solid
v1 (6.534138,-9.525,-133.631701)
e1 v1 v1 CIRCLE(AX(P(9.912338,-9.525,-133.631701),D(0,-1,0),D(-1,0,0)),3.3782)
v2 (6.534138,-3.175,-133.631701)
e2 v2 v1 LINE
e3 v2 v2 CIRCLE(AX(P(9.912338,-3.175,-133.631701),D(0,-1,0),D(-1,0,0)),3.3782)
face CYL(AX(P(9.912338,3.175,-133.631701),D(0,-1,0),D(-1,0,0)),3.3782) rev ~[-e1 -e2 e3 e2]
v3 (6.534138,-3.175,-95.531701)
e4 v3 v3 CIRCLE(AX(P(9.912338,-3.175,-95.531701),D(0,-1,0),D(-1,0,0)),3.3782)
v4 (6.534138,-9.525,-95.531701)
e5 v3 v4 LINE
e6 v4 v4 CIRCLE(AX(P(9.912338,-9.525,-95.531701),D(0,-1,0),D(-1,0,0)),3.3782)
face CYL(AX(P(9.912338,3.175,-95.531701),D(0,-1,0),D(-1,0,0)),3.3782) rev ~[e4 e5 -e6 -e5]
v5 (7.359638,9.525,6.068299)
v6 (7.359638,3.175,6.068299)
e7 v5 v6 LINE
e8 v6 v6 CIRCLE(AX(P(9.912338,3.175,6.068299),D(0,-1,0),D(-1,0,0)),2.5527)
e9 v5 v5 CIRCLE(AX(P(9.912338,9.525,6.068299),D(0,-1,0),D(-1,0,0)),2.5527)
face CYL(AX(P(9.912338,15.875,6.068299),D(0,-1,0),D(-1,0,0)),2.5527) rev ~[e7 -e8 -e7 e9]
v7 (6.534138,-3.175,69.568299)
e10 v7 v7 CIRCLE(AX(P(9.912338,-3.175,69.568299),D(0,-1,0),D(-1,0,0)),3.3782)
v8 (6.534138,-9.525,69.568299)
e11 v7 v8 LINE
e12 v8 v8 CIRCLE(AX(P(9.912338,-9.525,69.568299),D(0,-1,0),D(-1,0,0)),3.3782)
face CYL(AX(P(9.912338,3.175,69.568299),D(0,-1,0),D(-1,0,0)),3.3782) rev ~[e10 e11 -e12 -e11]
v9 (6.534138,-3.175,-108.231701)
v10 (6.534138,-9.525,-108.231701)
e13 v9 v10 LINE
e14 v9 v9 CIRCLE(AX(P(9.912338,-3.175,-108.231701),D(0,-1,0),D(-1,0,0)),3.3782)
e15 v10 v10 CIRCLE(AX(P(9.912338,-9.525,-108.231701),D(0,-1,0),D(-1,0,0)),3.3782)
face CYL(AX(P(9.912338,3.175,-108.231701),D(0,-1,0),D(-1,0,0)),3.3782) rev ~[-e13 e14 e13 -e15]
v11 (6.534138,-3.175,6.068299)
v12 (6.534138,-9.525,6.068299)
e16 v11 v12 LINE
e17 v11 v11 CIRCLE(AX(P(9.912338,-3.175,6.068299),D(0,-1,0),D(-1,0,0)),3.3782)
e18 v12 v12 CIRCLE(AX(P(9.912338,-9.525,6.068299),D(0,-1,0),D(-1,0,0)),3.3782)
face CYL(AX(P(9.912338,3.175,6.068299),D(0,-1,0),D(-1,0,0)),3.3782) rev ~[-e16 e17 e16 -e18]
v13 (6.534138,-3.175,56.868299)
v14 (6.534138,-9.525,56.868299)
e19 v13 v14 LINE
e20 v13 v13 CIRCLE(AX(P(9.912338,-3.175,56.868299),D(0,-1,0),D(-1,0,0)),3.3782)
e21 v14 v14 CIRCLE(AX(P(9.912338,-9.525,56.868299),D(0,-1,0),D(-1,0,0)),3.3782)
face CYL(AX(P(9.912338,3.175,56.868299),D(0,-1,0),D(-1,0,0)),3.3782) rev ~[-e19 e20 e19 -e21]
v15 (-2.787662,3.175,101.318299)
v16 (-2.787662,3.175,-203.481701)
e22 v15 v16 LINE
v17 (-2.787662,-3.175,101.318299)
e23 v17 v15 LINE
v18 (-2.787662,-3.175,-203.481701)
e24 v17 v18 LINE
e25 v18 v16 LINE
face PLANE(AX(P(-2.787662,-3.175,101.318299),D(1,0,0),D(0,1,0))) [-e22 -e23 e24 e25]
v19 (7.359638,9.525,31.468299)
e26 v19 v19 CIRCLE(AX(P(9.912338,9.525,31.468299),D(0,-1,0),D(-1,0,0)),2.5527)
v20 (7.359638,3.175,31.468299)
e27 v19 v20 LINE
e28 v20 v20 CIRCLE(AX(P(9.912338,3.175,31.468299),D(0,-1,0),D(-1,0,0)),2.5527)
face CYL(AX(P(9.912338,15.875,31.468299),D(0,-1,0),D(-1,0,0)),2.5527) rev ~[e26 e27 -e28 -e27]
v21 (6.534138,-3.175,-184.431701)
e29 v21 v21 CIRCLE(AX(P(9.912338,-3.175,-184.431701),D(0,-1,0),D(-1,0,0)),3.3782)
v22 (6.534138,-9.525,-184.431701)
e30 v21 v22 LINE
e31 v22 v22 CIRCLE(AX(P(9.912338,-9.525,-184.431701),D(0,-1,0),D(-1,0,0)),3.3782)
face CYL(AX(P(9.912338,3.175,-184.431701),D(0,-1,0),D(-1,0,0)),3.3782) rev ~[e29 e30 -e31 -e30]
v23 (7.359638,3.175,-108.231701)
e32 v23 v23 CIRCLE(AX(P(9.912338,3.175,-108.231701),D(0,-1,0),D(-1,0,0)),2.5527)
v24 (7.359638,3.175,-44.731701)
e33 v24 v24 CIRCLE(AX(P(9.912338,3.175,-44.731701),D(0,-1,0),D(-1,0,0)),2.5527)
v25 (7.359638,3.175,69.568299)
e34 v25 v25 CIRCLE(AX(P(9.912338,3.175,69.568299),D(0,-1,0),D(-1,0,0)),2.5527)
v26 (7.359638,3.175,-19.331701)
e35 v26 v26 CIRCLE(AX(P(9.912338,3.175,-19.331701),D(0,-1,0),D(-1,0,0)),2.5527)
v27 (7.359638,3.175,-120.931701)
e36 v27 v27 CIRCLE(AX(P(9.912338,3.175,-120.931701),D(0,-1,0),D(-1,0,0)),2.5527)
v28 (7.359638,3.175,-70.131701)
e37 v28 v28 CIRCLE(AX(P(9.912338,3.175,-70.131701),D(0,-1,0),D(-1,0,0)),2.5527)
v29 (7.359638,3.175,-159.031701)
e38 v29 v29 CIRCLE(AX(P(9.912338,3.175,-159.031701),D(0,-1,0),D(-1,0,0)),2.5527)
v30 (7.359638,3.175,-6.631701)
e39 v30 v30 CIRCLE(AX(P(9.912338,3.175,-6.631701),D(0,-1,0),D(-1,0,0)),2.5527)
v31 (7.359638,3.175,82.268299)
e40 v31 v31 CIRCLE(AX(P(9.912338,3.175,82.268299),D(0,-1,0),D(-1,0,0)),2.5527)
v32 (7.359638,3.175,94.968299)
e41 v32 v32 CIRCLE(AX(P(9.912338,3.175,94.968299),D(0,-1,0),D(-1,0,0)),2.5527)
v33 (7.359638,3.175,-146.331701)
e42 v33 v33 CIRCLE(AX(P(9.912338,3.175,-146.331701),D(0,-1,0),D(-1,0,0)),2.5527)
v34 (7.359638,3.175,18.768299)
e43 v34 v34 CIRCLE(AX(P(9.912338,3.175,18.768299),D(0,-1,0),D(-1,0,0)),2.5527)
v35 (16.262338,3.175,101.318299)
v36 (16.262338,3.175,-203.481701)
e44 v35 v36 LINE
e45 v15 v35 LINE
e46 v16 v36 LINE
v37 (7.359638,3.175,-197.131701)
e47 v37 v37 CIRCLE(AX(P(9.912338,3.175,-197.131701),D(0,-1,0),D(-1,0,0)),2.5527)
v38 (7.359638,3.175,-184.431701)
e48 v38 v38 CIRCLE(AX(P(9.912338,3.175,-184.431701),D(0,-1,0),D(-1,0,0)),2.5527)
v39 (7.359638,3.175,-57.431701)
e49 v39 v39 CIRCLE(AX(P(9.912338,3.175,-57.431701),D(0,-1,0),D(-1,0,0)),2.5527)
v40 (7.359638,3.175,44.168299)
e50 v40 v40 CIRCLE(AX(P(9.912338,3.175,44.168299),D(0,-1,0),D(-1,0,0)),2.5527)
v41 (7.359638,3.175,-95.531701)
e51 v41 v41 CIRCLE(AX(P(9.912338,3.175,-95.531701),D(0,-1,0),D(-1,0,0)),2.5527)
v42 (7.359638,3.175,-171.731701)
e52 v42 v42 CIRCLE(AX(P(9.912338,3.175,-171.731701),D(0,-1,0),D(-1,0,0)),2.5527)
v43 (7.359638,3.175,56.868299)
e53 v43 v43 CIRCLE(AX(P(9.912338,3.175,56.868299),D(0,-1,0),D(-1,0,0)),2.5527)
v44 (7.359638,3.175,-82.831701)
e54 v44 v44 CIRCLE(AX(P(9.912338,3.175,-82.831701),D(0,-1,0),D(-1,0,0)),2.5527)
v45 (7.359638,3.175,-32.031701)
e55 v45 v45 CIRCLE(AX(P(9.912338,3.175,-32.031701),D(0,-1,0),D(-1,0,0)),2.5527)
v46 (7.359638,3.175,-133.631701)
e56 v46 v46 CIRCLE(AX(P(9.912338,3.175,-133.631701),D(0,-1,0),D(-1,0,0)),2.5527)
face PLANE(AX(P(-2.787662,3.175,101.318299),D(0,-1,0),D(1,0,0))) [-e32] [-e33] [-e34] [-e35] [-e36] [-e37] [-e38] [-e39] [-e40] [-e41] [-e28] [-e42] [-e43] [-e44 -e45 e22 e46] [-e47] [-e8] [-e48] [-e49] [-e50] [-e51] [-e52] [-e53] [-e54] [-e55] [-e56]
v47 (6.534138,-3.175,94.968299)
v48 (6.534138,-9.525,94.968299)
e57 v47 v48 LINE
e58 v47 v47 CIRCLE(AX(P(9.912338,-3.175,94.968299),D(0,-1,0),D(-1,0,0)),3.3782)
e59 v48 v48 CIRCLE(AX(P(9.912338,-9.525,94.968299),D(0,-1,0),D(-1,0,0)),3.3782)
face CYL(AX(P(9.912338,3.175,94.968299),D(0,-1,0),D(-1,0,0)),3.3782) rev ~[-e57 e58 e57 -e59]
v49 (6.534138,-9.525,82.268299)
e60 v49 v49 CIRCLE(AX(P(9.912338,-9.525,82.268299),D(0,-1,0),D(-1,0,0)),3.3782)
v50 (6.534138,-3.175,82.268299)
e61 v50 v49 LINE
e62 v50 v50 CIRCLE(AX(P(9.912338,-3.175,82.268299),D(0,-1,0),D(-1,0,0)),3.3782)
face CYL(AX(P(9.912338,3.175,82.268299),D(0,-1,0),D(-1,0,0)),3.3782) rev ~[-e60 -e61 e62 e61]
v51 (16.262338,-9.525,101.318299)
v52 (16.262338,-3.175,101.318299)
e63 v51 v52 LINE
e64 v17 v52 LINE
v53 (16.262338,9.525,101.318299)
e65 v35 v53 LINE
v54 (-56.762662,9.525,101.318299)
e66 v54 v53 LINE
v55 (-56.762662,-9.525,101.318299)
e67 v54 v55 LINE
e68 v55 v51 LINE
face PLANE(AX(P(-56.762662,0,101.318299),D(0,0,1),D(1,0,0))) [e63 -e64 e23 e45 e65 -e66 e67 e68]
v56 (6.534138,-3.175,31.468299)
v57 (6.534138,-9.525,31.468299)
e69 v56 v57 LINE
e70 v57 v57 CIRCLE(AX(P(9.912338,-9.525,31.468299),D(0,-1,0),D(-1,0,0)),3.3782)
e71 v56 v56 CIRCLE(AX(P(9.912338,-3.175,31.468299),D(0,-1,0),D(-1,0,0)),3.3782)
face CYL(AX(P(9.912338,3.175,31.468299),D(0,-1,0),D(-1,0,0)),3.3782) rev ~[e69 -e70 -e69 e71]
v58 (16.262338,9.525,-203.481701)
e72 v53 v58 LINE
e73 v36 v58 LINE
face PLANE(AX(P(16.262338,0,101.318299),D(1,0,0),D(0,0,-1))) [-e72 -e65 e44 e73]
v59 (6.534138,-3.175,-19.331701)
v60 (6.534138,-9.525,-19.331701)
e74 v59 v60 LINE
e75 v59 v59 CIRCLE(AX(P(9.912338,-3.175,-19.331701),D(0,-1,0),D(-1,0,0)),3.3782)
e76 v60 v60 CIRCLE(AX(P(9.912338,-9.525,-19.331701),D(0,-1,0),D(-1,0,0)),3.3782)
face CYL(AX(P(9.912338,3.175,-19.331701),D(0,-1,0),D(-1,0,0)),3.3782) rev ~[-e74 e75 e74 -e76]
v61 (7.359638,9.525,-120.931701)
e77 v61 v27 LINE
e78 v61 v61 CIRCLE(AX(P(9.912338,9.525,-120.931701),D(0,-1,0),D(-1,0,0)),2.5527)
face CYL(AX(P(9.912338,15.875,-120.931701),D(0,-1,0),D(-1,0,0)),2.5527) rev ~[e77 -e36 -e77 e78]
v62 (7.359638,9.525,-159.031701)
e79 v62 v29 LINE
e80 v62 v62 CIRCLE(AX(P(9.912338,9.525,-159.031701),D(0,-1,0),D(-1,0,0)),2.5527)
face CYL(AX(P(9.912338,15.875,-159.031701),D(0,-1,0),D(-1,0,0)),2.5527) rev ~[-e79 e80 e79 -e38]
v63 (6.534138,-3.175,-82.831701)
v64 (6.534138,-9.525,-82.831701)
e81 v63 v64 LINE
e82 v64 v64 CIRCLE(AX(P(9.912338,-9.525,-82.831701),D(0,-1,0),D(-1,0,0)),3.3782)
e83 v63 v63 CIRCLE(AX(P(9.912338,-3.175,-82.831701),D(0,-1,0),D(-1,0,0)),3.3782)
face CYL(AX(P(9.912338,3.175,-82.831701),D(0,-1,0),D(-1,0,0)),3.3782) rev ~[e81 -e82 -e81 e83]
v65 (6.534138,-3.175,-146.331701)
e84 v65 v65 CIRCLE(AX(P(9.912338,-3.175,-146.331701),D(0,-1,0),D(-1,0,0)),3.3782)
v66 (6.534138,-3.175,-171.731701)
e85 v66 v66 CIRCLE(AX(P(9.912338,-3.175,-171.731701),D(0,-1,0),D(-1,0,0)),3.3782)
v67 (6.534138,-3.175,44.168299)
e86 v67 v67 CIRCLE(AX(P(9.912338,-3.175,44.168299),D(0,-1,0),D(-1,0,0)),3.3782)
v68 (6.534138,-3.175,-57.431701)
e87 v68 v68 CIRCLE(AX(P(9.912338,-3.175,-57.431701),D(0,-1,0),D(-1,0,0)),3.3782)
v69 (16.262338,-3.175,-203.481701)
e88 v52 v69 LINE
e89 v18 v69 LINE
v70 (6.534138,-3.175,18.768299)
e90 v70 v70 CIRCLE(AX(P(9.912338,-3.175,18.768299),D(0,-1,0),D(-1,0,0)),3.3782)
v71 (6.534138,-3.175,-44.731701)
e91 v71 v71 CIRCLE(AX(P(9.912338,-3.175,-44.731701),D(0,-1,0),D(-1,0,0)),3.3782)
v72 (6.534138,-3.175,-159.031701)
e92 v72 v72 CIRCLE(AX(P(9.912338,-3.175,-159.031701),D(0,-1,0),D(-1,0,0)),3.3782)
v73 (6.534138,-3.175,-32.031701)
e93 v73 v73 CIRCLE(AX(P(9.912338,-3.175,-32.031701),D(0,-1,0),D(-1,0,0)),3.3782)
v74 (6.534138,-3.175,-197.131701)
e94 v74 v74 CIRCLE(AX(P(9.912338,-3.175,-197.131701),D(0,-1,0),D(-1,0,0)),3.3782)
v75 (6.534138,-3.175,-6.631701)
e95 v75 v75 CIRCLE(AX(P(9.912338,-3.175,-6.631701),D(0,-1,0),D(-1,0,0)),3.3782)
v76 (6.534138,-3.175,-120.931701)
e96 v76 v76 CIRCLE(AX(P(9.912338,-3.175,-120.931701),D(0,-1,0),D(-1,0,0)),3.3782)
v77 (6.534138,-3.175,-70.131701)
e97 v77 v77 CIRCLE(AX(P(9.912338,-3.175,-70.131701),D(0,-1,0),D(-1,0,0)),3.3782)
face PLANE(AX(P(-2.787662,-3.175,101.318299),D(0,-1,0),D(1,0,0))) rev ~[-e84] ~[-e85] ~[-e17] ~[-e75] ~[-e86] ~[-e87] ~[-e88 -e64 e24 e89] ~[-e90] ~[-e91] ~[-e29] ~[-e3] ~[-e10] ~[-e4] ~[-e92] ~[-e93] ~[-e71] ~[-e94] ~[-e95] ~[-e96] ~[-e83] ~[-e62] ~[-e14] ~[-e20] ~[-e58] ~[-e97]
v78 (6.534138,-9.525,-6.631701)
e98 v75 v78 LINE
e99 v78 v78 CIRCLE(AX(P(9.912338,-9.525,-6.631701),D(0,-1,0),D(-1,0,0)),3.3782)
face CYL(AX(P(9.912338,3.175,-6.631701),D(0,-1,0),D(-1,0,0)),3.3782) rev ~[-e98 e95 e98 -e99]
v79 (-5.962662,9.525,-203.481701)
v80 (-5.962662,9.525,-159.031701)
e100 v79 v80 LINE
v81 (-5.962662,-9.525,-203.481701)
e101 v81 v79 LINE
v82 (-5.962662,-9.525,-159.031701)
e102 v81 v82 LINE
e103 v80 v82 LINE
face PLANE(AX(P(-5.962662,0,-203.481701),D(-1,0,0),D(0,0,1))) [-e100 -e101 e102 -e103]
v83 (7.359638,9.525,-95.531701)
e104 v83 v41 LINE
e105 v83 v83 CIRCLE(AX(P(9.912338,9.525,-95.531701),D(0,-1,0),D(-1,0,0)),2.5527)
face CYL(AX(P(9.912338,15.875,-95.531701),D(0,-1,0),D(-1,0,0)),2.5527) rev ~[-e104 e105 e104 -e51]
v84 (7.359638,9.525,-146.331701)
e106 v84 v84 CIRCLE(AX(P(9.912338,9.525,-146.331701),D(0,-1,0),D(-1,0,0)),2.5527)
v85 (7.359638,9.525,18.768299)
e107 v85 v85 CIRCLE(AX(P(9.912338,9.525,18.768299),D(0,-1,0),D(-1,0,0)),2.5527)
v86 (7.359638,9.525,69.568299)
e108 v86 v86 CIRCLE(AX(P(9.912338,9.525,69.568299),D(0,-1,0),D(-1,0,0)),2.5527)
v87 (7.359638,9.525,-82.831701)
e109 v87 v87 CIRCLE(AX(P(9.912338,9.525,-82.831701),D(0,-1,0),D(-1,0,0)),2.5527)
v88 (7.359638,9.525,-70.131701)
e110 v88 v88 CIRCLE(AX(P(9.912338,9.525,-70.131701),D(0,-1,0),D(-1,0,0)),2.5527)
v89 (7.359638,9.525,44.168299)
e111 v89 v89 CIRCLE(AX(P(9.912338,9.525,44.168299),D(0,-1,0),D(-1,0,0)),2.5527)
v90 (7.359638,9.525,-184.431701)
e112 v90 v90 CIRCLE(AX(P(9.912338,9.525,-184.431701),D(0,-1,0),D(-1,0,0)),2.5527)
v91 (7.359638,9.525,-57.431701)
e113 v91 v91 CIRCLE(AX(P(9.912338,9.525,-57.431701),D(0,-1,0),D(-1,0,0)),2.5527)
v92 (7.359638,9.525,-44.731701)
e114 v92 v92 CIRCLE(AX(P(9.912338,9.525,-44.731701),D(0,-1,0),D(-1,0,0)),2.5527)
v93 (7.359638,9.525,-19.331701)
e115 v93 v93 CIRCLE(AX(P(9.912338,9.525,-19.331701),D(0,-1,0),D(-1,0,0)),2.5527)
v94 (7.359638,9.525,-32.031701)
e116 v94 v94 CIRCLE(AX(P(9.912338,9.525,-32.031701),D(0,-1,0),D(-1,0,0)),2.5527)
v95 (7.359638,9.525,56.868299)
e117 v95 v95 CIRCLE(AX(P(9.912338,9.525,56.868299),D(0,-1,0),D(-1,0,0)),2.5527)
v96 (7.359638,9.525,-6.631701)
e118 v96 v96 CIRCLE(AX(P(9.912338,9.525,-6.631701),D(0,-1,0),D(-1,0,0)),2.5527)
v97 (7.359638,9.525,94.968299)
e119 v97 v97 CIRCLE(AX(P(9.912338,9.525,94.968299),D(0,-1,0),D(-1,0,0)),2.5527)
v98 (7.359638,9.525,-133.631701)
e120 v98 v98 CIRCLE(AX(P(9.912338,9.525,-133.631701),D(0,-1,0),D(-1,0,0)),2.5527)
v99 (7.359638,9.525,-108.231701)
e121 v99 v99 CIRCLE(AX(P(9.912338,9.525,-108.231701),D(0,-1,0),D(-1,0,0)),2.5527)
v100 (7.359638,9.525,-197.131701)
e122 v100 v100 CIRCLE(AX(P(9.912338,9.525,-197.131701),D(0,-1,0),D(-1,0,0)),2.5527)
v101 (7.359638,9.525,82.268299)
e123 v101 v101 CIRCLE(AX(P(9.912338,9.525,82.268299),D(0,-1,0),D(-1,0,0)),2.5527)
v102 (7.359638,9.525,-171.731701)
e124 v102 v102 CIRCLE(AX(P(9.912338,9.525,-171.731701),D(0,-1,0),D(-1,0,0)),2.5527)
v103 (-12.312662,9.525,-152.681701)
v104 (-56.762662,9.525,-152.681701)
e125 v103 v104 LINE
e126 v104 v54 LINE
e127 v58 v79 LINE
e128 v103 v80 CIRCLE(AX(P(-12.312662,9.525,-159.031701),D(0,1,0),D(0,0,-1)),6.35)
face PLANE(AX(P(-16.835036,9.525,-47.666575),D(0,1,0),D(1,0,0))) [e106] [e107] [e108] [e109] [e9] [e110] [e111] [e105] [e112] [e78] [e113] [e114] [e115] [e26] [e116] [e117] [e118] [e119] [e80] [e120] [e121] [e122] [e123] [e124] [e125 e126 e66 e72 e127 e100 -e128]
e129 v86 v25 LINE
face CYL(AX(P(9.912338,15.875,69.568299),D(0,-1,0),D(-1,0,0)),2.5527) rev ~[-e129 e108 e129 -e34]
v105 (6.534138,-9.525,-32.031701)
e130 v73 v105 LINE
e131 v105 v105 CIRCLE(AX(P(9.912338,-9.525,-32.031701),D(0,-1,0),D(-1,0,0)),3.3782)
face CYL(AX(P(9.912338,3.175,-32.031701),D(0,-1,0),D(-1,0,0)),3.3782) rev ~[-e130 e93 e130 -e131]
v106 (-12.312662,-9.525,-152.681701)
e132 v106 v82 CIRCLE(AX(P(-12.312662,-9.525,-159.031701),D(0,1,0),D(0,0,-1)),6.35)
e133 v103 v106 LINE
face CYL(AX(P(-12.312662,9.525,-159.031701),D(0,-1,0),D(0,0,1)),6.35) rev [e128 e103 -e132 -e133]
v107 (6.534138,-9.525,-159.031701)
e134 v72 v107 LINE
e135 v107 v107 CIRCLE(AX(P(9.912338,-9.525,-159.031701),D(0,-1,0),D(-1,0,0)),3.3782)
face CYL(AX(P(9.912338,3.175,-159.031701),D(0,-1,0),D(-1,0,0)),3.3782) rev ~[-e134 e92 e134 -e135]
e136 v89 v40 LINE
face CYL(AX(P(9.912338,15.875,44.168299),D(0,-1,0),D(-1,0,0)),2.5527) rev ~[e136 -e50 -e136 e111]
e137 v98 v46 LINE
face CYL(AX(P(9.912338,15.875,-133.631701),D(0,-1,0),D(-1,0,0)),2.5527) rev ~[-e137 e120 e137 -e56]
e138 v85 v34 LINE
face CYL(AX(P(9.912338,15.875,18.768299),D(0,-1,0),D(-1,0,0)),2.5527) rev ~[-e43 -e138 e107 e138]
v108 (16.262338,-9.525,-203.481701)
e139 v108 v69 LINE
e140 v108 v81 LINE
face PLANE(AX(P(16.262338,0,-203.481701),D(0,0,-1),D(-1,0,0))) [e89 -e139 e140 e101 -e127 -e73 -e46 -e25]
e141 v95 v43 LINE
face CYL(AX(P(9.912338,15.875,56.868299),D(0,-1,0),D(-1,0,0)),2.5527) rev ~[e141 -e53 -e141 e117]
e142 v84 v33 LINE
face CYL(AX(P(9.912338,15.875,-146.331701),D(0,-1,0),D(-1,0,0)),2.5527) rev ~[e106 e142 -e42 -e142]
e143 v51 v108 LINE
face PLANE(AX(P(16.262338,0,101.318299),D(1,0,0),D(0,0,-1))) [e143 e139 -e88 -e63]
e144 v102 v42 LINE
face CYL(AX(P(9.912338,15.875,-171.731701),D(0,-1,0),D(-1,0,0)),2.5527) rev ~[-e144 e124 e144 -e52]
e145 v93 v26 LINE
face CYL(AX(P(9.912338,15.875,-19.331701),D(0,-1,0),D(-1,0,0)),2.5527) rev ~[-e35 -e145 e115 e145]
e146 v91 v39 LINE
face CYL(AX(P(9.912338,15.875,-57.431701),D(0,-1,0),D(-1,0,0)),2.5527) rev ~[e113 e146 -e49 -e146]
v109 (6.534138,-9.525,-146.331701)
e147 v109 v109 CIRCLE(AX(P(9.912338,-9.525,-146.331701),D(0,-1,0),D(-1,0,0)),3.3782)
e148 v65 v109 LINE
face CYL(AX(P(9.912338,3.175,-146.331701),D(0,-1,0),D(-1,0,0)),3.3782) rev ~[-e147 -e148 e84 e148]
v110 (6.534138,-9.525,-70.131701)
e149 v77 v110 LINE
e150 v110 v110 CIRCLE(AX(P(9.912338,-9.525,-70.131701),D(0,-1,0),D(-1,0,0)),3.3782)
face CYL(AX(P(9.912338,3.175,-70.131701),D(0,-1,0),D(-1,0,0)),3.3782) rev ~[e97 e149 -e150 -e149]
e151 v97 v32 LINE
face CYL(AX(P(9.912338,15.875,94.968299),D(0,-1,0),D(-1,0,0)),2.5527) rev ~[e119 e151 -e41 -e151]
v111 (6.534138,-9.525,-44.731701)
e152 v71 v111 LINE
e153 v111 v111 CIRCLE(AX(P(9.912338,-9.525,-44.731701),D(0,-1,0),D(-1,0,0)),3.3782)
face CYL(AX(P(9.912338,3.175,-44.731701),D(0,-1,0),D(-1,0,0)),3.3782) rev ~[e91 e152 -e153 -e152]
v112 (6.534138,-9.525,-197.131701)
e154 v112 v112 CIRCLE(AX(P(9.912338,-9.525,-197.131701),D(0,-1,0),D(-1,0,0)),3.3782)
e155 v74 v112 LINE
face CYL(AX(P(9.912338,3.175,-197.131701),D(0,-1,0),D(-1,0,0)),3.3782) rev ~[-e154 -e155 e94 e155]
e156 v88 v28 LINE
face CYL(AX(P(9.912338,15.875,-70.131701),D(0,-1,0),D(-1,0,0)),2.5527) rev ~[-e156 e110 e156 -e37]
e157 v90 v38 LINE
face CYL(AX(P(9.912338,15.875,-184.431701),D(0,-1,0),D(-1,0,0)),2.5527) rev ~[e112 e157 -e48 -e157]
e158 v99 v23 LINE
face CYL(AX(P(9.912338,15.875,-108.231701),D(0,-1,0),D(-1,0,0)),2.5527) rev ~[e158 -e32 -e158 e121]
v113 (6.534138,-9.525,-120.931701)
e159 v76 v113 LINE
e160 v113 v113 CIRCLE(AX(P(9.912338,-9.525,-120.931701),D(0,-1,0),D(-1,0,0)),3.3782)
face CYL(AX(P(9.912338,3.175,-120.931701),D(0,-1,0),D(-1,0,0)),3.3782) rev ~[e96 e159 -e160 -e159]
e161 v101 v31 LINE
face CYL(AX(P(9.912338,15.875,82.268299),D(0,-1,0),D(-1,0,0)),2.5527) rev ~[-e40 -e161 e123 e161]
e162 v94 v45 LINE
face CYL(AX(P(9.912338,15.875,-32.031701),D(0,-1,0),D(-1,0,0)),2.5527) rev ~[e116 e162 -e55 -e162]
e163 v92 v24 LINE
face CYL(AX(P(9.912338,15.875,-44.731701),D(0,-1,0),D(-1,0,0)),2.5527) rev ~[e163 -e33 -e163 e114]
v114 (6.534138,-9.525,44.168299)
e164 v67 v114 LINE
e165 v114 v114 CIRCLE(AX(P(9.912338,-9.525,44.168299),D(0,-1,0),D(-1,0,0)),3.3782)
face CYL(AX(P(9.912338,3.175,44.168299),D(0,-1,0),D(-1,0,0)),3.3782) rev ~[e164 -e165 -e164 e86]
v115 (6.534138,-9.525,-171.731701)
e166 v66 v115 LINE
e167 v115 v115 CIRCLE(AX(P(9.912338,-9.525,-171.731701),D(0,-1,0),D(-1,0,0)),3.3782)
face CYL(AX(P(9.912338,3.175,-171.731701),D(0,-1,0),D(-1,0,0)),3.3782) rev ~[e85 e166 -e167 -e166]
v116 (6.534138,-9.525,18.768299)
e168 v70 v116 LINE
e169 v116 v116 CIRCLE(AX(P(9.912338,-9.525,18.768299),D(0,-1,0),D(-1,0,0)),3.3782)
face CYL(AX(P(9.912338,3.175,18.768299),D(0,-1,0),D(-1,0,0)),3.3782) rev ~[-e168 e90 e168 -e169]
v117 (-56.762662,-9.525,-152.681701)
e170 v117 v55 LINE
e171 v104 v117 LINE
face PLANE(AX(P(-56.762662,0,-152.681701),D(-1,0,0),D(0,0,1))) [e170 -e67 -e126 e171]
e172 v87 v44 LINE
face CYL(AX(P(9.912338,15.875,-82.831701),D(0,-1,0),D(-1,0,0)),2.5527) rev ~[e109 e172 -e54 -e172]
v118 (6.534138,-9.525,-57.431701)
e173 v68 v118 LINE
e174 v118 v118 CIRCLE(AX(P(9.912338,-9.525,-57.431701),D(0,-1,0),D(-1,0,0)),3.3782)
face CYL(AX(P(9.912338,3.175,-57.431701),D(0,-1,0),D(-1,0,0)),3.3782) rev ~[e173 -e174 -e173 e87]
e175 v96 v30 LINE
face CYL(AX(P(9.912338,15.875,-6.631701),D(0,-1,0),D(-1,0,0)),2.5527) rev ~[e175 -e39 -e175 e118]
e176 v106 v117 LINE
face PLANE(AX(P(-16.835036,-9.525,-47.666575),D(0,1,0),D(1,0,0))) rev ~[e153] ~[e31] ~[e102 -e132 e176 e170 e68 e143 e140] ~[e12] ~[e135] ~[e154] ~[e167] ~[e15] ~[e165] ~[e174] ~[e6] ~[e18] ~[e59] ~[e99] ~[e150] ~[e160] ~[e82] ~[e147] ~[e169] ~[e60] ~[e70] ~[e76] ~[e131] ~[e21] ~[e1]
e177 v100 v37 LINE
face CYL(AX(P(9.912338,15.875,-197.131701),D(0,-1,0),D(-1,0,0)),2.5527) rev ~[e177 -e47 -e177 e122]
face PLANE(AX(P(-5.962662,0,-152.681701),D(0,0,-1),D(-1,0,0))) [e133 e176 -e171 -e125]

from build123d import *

# Parameters (mm, degrees)
BOSS_EXTRUDE1_DEPTH         = 9.525
CUT_EXTRUDE1_REACH          = 312.187
SKETCH2_W                   = 19.05
SKETCH2_H                   = 6.35
FILLET1_R                   = 6.35
F_1_4_20_TAPPED_HOLE2_D     = 5.1054
F_1_4_20_TAPPED_HOLE2_DEPTH = 6.35
F_1_4_CLEARANCE_HOLE1_D     = 6.7564
F_1_4_CLEARANCE_HOLE1_DEPTH = 6.35
LPATTERN2_COUNT             = 24
LPATTERN2_PITCH             = 12.7


with BuildPart() as part:
    # Sketch1 → Boss-Extrude1 (new, symmetric)
    with BuildSketch(Plane(origin=(0, 0, 0), x_dir=(1, 0, 0), z_dir=(0, 1, 0))):
        Polygon((-56.762661738, -101.318299445), (16.262338262, -101.318299445), (16.262338262, 203.481700555), (-5.962661738, 203.481700555), (-5.962661738, 152.681700555), (-56.762661738, 152.681700555), align=None)
    extrude(amount=BOSS_EXTRUDE1_DEPTH, both=True)

    # Sketch2 → Cut-Extrude1 (cut, up to next)
    with BuildSketch(Plane.XY.offset(101.318299445), mode=Mode.PRIVATE) as cut_extrude1_sk1:
        with Locations((6.737338262, 0)):
            Rectangle(SKETCH2_W, SKETCH2_H)
    cut_extrude1_tool1 = extrude(cut_extrude1_sk1.sketch, amount=-CUT_EXTRUDE1_REACH, mode=Mode.PRIVATE) & part.part
    add(cut_extrude1_tool1.solids().sort_by_distance((6.737338, 0, 101.318299))[0], mode=Mode.SUBTRACT)

    # Fillet1
    fillet1_edges = [part.edges().sort_by_distance(p)[0] for p in [
        (-5.962661738, 0, -152.681700555),
    ]]
    fillet(fillet1_edges, radius=FILLET1_R)

    # 1/4-20 Tapped Hole2
    with Locations(Plane(origin=(0, 9.525, 0), x_dir=(1, 0, 0), z_dir=(0, 1, 0))):
        with Locations((9.912338262, 197.131700555)):
            f_1_4_20_tapped_hole2 = Hole(F_1_4_20_TAPPED_HOLE2_D / 2, depth=F_1_4_20_TAPPED_HOLE2_DEPTH)

    # 1/4 Clearance Hole1
    with Locations(Plane(origin=(0, -3.175, 0), x_dir=(1, 0, 0), z_dir=(0, 1, 0))):
        with Locations((9.912338262, 197.131700555)):
            f_1_4_clearance_hole1 = Hole(F_1_4_CLEARANCE_HOLE1_D / 2, depth=F_1_4_CLEARANCE_HOLE1_DEPTH)

    # LPattern2: 1/4-20 Tapped Hole2, 1/4 Clearance Hole1 ×24
    with Locations(*[(0, 0, i * LPATTERN2_PITCH) for i in range(1, LPATTERN2_COUNT)]):
        add(f_1_4_20_tapped_hole2, mode=Mode.SUBTRACT)
        add(f_1_4_clearance_hole1, mode=Mode.SUBTRACT)


solid = part.part
